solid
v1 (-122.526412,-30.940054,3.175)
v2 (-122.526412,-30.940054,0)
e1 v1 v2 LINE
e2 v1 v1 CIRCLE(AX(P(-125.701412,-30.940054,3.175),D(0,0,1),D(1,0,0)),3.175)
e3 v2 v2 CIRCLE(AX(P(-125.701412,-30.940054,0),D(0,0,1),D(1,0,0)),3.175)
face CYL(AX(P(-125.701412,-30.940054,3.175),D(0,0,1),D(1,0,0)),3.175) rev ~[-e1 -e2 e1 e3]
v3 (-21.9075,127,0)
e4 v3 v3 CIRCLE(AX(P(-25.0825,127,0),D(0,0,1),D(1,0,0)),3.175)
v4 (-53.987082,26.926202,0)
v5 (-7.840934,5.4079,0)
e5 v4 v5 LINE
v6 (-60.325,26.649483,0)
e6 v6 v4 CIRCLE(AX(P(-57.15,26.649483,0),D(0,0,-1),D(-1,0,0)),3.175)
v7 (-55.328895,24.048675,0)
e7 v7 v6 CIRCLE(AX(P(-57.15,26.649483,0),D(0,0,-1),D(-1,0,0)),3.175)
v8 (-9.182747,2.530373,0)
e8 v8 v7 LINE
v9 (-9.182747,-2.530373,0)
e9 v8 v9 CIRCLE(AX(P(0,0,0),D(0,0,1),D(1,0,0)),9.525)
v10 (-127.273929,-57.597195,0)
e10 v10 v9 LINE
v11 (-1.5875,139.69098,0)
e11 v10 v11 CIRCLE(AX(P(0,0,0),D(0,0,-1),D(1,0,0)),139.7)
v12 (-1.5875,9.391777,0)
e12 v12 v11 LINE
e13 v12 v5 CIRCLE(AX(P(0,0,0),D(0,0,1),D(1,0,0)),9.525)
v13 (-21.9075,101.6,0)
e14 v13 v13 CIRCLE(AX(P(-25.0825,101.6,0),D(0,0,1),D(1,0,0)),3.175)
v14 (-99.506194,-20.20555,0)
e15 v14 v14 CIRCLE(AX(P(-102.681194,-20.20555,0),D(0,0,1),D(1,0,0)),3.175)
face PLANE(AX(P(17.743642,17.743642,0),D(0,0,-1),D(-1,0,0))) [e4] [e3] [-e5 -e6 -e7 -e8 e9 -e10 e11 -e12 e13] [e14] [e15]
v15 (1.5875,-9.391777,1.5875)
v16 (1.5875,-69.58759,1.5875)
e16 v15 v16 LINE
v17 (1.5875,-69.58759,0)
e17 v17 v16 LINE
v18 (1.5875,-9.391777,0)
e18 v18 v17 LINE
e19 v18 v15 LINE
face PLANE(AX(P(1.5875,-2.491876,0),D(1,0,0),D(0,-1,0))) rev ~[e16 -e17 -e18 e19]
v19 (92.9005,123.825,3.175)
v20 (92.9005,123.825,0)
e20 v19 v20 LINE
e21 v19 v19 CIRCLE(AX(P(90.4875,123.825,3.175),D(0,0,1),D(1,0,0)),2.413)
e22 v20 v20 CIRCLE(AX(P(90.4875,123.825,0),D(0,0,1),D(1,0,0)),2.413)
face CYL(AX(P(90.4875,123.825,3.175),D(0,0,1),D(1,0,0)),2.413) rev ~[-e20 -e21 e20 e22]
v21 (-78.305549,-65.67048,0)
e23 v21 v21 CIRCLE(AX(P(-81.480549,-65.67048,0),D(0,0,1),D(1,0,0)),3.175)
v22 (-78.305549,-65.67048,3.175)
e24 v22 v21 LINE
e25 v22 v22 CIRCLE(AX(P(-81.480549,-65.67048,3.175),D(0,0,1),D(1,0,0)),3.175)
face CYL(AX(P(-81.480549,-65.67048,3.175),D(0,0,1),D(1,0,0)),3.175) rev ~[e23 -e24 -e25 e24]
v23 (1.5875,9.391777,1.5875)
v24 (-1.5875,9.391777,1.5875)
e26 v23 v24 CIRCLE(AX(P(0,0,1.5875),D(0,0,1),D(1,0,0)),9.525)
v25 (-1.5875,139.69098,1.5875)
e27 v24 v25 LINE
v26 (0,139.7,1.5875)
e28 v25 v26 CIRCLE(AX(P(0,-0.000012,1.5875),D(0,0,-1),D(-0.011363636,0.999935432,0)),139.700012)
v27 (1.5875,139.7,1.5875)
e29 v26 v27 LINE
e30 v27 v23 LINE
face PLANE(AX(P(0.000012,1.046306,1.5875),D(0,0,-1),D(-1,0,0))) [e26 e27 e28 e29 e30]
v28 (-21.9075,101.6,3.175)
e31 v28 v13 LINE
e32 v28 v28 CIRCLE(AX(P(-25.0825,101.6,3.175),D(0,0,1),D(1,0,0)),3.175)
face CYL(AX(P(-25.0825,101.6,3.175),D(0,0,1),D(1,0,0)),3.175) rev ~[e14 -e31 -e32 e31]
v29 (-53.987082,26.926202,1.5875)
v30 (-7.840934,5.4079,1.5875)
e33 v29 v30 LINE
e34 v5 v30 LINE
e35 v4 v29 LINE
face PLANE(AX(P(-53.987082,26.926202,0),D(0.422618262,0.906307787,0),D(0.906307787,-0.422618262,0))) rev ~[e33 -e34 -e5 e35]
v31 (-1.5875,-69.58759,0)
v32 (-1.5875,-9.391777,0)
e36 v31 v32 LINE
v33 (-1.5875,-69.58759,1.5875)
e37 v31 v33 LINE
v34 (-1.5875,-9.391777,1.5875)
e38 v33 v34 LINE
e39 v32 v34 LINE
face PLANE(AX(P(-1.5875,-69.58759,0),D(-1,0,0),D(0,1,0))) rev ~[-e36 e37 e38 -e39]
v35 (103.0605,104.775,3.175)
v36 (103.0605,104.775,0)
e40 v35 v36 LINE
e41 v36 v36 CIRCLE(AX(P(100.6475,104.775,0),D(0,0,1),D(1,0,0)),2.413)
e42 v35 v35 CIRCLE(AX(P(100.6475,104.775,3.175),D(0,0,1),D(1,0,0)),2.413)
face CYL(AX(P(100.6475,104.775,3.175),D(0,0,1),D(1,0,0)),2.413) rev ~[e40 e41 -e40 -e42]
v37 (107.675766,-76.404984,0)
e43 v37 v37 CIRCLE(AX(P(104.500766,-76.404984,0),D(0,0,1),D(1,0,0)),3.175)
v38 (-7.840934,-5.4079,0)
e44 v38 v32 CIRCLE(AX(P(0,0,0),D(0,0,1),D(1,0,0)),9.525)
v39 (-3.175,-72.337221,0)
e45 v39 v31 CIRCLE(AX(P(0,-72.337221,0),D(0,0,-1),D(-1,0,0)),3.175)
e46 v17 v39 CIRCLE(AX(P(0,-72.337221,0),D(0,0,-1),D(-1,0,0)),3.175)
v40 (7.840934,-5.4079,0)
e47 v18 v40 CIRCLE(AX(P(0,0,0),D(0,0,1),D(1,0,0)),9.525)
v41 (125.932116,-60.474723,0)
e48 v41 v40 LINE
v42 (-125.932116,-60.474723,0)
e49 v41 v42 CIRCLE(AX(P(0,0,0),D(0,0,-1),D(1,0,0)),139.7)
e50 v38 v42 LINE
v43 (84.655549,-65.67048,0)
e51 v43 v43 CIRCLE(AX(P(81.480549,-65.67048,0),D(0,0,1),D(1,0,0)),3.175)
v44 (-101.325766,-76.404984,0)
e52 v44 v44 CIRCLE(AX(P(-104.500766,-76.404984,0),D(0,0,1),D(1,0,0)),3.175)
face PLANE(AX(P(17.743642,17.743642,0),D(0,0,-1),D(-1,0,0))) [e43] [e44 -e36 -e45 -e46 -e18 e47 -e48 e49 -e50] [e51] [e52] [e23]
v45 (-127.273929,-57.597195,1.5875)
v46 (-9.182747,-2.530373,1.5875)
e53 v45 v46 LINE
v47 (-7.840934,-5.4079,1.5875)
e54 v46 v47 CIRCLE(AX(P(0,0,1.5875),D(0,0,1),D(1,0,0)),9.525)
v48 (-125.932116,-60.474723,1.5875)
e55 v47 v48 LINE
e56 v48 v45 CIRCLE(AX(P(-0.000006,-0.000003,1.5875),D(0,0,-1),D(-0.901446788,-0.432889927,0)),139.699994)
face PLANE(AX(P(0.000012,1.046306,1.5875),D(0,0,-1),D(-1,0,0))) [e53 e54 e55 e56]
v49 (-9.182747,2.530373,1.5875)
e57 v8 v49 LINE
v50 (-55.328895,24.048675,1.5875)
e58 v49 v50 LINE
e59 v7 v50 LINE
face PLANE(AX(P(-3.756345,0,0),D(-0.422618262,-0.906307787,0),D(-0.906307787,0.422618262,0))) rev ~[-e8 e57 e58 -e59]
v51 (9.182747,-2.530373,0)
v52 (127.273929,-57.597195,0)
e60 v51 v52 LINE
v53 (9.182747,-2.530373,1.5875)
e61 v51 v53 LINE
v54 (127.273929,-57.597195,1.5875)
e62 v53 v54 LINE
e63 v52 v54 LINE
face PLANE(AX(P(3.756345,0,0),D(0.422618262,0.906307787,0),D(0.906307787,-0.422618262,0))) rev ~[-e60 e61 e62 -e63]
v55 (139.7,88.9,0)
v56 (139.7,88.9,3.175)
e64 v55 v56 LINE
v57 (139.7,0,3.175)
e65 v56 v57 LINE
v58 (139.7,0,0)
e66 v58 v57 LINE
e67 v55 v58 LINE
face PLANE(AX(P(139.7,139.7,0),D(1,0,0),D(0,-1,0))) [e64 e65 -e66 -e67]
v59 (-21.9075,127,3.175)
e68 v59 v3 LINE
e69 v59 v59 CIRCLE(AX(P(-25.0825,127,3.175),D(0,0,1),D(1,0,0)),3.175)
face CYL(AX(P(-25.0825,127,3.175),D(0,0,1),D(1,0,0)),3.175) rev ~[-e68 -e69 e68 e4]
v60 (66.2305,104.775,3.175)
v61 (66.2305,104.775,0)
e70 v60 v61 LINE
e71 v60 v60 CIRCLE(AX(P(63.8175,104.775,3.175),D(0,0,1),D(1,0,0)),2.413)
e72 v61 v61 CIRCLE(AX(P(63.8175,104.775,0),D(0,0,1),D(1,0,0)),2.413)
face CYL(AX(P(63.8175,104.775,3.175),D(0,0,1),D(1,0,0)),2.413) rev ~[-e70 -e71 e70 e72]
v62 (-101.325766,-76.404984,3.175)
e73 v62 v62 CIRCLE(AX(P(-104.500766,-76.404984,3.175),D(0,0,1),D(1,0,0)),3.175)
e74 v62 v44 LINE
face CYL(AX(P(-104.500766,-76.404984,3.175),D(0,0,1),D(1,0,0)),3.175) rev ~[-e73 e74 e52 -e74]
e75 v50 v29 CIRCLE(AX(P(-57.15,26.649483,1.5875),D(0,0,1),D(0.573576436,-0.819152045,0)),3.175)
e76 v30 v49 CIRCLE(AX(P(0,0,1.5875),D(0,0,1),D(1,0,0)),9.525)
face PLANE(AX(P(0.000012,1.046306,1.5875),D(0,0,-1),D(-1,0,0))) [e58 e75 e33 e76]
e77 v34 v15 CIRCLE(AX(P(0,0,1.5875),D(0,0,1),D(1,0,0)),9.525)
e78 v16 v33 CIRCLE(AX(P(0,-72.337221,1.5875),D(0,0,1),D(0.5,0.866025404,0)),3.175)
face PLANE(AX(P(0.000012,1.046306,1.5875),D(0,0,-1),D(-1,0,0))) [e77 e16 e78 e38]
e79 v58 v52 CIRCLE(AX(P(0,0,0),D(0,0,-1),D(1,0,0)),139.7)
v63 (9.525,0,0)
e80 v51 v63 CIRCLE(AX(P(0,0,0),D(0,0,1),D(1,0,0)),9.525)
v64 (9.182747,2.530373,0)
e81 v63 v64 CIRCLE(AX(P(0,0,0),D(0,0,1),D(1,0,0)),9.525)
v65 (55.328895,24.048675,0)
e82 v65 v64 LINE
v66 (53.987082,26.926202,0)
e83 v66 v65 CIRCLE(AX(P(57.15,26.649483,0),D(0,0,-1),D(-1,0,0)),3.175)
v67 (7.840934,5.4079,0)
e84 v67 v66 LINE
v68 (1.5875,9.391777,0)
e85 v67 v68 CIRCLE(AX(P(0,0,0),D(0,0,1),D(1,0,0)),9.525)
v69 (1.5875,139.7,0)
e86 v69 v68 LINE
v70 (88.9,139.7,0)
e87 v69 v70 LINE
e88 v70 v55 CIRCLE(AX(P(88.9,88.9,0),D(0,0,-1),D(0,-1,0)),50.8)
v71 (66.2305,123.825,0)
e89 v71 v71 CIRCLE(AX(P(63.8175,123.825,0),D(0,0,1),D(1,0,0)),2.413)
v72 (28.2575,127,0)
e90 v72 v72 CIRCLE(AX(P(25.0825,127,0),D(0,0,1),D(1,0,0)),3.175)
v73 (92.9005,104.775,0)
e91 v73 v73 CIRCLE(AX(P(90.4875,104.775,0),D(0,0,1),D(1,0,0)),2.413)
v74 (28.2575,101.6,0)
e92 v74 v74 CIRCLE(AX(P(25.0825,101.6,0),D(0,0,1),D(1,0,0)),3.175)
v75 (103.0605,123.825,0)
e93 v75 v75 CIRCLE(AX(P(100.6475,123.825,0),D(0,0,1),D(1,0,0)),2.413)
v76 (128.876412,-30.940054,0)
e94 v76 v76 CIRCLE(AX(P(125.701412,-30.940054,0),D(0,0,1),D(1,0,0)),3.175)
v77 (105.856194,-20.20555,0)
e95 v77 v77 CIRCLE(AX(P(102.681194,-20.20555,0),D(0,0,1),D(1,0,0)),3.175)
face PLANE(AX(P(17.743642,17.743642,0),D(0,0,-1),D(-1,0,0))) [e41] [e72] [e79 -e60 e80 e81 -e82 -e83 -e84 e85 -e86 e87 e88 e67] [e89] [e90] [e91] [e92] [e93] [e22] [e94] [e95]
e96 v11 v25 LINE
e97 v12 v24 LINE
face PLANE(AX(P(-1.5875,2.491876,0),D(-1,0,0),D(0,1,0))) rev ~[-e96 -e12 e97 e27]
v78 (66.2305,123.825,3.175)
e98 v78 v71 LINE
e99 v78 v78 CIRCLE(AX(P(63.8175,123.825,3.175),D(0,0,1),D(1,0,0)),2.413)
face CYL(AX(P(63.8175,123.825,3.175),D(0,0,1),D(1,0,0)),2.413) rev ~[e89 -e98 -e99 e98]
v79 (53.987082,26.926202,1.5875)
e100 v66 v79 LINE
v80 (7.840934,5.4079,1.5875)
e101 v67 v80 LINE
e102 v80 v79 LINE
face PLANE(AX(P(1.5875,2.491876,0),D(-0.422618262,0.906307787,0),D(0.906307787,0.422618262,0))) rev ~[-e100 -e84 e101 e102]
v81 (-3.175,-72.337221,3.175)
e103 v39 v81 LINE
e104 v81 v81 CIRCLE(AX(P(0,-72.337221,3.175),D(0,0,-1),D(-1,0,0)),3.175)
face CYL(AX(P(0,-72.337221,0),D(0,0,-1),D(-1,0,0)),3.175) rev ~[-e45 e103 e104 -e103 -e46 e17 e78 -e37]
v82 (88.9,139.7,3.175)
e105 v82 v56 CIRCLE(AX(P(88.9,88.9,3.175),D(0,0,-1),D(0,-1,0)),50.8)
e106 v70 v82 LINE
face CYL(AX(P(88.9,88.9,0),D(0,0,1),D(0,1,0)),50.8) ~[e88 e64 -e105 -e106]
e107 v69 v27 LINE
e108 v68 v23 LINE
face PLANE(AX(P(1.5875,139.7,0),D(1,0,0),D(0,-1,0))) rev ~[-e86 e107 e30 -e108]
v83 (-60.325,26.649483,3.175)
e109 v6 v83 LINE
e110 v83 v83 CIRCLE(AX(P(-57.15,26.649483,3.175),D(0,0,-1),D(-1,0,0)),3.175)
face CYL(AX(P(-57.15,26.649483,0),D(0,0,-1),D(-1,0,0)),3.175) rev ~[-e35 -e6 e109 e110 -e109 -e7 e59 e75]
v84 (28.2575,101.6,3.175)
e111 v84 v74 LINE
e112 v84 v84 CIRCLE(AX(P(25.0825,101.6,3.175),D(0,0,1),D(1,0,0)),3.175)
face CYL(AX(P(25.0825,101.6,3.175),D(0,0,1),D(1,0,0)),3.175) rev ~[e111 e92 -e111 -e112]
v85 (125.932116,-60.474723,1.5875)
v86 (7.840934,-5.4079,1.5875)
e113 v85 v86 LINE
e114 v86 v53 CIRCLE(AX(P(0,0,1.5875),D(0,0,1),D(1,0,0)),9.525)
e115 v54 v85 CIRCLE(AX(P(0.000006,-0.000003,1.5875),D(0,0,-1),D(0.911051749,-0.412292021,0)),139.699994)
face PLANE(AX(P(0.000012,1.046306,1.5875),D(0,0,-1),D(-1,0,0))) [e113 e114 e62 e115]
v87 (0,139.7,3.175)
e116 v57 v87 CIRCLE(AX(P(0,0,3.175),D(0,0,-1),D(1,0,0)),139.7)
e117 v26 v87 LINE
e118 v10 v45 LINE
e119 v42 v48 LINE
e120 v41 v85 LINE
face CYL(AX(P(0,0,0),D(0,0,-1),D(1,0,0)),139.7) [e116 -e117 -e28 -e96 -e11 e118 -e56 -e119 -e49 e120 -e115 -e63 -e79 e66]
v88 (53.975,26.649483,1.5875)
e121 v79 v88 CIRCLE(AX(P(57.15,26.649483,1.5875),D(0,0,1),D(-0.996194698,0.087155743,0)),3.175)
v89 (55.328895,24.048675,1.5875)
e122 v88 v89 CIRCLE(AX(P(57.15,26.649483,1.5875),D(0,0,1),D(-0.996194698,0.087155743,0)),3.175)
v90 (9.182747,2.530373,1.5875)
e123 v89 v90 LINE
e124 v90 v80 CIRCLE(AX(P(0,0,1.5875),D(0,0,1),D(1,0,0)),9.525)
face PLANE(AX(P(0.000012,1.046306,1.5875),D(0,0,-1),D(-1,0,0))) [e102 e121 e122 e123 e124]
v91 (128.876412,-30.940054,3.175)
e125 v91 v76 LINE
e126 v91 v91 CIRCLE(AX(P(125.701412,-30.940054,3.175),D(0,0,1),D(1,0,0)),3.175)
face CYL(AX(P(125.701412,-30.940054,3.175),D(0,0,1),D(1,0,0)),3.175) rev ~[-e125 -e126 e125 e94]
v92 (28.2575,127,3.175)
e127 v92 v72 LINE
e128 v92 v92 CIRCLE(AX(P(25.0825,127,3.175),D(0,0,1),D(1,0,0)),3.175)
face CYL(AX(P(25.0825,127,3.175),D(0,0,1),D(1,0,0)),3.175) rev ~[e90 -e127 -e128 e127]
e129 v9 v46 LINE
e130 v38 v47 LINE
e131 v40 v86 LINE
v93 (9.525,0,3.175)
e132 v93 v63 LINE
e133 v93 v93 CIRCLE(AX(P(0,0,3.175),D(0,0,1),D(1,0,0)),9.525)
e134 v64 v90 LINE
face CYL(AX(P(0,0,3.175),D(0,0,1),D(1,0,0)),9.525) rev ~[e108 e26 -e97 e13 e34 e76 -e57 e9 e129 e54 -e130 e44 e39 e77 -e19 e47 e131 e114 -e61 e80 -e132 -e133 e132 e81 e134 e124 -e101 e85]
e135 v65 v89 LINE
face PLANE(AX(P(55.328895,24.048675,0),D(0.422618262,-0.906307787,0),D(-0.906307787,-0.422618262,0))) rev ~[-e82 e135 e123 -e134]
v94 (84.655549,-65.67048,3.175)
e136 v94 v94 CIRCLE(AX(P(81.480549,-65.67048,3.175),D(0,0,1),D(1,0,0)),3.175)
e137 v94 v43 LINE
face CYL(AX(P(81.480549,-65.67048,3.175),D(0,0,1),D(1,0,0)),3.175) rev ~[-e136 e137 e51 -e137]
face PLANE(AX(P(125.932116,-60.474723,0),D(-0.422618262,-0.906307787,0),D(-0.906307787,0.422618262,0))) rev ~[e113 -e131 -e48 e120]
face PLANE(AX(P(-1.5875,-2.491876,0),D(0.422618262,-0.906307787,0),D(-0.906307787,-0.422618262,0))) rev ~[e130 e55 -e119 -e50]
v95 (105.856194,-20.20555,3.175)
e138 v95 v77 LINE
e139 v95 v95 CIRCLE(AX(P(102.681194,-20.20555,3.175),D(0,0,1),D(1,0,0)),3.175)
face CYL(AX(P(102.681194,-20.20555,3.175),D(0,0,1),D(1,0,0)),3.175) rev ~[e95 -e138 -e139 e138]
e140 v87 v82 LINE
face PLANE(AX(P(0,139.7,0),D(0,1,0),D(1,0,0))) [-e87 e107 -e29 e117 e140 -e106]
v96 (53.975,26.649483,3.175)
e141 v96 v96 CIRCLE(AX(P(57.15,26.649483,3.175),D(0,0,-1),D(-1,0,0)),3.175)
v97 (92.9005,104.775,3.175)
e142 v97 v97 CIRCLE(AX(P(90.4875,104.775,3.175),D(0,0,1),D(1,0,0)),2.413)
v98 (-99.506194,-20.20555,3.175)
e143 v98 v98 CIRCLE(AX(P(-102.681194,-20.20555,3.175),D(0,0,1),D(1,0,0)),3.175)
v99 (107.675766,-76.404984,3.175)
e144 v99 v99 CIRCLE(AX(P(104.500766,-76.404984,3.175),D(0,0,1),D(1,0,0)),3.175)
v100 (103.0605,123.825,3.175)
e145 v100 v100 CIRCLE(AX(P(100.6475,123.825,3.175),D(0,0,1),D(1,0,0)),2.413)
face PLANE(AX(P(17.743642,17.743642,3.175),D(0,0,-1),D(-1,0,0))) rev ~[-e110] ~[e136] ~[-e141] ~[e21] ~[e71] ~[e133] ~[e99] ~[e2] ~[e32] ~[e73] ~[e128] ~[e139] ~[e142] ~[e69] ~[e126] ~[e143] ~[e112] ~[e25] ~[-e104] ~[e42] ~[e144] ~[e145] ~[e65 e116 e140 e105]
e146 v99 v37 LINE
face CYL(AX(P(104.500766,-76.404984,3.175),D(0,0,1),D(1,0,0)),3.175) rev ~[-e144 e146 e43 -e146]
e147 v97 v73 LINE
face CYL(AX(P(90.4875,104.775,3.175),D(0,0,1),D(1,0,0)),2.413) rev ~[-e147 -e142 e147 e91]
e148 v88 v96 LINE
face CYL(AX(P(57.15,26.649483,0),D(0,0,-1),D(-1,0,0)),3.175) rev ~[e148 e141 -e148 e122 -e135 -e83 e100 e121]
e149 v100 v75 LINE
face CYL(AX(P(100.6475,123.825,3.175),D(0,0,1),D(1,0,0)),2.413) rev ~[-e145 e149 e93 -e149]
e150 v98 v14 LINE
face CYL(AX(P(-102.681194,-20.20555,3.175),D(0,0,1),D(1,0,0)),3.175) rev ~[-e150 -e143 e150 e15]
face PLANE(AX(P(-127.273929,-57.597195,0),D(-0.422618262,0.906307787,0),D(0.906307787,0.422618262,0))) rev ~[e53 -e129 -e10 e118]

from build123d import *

# Parameters (mm, degrees)
BOSS_EXTRUDE1_DEPTH = 3.175
CUT_EXTRUDE3_DEPTH  = 1.5875
SKETCH3_R           = 9.525
CUT_EXTRUDE4_DEPTH  = 198.591145108
SKETCH2_4_R         = 3.175
CUT_EXTRUDE5_DEPTH  = 198.591145108
FILLET1_R           = 50.8
SKETCH8_R           = 3.175
CUT_EXTRUDE7_DEPTH  = 198.591145108
SKETCH9_R           = 2.413
CUT_EXTRUDE8_DEPTH  = 198.591145108


with BuildPart() as part:
    # Sketch1 → Boss-Extrude1 (new body)
    with BuildSketch(Plane.XY):
        with BuildLine():
            Line((0, 139.7), (139.7, 139.7))
            Line((139.7, 139.7), (139.7, 0))
            ThreePointArc((139.7, 0), (-98.782817332, -98.782817332), (0, 139.7))
        make_face()
    extrude(amount=BOSS_EXTRUDE1_DEPTH)

    # Sketch2 → Cut-Extrude3 (cut)
    with BuildSketch(Plane(origin=(0, 0, 0), x_dir=(-1, 0, 0), z_dir=(0, 0, -1))):
        with BuildLine():
            ThreePointArc((-127.273929282, -57.597195461), (-126.611197849, -59.039771165), (-125.932116301, -60.474722685))
            Line((-125.932116301, -60.474722685), (-1.5875, -2.491875854))
            Line((-1.5875, -2.491875854), (-1.5875, -69.587590332))
            ThreePointArc((-1.5875, -69.587590332), (0, -69.162220989), (1.5875, -69.587590332))
            Line((1.5875, -69.587590332), (1.5875, -2.491875854))
            Line((1.5875, -2.491875854), (125.932116301, -60.474722685))
            ThreePointArc((125.932116301, -60.474722685), (126.611197849, -59.039771165), (127.273929282, -57.597195461))
            Line((127.273929282, -57.597195461), (3.756345013, 0))
            Line((3.756345013, 0), (55.328894815, 24.048674923))
            ThreePointArc((55.328894815, 24.048674923), (54.272472776, 25.307669683), (53.987081834, 26.926202147))
            Line((53.987081834, 26.926202147), (1.5875, 2.491875854))
            Line((1.5875, 2.491875854), (1.5875, 139.690979822))
            ThreePointArc((1.5875, 139.690979822), (0.793762813, 139.697744937), (0, 139.7))
            Line((0, 139.7), (-1.5875, 139.7))
            Line((-1.5875, 139.7), (-1.5875, 2.491875854))
            Line((-1.5875, 2.491875854), (-53.987081834, 26.926202147))
            ThreePointArc((-53.987081834, 26.926202147), (-54.272472776, 25.307669683), (-55.328894815, 24.048674923))
            Line((-55.328894815, 24.048674923), (-3.756345013, 0))
            Line((-3.756345013, 0), (-127.273929282, -57.597195461))
        make_face()
    extrude(amount=-CUT_EXTRUDE3_DEPTH, mode=Mode.SUBTRACT)

    # Sketch3 → Cut-Extrude4 (cut, through all)
    with BuildSketch(Plane.XY.offset(3.175)):
        Circle(SKETCH3_R)
    extrude(amount=-CUT_EXTRUDE4_DEPTH, mode=Mode.SUBTRACT)

    # Sketch2<4> → Cut-Extrude5 (cut, through all)
    with BuildSketch(Plane(origin=(0, 0, 0), x_dir=(-1, 0, 0), z_dir=(0, 0, -1))):
        with Locations((0, -72.337220989)):
            Circle(SKETCH2_4_R)
        with Locations((-57.15, 26.649482664)):
            Circle(SKETCH2_4_R)
        with Locations((57.15, 26.649482664)):
            Circle(SKETCH2_4_R)
    extrude(amount=-CUT_EXTRUDE5_DEPTH, mode=Mode.SUBTRACT)

    # Fillet1
    fillet1_edges = [part.edges().sort_by_distance(p)[0] for p in [
        (139.7, 139.7, 1.5875),
    ]]
    fillet(fillet1_edges, radius=FILLET1_R)

    # Sketch8 → Cut-Extrude7 (cut, through all)
    with BuildSketch(Plane.XY.offset(3.175)):
        with Locations((25.0825, 101.6)):
            Circle(SKETCH8_R)
        with Locations((-25.0825, 101.6)):
            Circle(SKETCH8_R)
        with Locations((-25.0825, 127)):
            Circle(SKETCH8_R)
        with Locations((25.0825, 127)):
            Circle(SKETCH8_R)
        with Locations((102.681193713, -20.205550325)):
            Circle(SKETCH8_R)
        with Locations((125.701411504, -30.940054173)):
            Circle(SKETCH8_R)
        with Locations((81.480548613, -65.670480461)):
            Circle(SKETCH8_R)
        with Locations((104.500766404, -76.404984309)):
            Circle(SKETCH8_R)
        with Locations((-81.480548613, -65.670480461)):
            Circle(SKETCH8_R)
        with Locations((-104.500766404, -76.404984309)):
            Circle(SKETCH8_R)
        with Locations((-102.681193713, -20.205550325)):
            Circle(SKETCH8_R)
        with Locations((-125.701411504, -30.940054173)):
            Circle(SKETCH8_R)
    extrude(amount=-CUT_EXTRUDE7_DEPTH, mode=Mode.SUBTRACT)

    # Sketch9 → Cut-Extrude8 (cut, through all)
    with BuildSketch(Plane.XY.offset(3.175)):
        with Locations((90.4875, 104.775)):
            Circle(SKETCH9_R)
        with Locations((90.4875, 123.825)):
            Circle(SKETCH9_R)
        with Locations((100.6475, 104.775)):
            Circle(SKETCH9_R)
        with Locations((100.6475, 123.825)):
            Circle(SKETCH9_R)
        with Locations((63.8175, 104.775)):
            Circle(SKETCH9_R)
        with Locations((63.8175, 123.825)):
            Circle(SKETCH9_R)
    extrude(amount=-CUT_EXTRUDE8_DEPTH, mode=Mode.SUBTRACT)


solid = part.part
